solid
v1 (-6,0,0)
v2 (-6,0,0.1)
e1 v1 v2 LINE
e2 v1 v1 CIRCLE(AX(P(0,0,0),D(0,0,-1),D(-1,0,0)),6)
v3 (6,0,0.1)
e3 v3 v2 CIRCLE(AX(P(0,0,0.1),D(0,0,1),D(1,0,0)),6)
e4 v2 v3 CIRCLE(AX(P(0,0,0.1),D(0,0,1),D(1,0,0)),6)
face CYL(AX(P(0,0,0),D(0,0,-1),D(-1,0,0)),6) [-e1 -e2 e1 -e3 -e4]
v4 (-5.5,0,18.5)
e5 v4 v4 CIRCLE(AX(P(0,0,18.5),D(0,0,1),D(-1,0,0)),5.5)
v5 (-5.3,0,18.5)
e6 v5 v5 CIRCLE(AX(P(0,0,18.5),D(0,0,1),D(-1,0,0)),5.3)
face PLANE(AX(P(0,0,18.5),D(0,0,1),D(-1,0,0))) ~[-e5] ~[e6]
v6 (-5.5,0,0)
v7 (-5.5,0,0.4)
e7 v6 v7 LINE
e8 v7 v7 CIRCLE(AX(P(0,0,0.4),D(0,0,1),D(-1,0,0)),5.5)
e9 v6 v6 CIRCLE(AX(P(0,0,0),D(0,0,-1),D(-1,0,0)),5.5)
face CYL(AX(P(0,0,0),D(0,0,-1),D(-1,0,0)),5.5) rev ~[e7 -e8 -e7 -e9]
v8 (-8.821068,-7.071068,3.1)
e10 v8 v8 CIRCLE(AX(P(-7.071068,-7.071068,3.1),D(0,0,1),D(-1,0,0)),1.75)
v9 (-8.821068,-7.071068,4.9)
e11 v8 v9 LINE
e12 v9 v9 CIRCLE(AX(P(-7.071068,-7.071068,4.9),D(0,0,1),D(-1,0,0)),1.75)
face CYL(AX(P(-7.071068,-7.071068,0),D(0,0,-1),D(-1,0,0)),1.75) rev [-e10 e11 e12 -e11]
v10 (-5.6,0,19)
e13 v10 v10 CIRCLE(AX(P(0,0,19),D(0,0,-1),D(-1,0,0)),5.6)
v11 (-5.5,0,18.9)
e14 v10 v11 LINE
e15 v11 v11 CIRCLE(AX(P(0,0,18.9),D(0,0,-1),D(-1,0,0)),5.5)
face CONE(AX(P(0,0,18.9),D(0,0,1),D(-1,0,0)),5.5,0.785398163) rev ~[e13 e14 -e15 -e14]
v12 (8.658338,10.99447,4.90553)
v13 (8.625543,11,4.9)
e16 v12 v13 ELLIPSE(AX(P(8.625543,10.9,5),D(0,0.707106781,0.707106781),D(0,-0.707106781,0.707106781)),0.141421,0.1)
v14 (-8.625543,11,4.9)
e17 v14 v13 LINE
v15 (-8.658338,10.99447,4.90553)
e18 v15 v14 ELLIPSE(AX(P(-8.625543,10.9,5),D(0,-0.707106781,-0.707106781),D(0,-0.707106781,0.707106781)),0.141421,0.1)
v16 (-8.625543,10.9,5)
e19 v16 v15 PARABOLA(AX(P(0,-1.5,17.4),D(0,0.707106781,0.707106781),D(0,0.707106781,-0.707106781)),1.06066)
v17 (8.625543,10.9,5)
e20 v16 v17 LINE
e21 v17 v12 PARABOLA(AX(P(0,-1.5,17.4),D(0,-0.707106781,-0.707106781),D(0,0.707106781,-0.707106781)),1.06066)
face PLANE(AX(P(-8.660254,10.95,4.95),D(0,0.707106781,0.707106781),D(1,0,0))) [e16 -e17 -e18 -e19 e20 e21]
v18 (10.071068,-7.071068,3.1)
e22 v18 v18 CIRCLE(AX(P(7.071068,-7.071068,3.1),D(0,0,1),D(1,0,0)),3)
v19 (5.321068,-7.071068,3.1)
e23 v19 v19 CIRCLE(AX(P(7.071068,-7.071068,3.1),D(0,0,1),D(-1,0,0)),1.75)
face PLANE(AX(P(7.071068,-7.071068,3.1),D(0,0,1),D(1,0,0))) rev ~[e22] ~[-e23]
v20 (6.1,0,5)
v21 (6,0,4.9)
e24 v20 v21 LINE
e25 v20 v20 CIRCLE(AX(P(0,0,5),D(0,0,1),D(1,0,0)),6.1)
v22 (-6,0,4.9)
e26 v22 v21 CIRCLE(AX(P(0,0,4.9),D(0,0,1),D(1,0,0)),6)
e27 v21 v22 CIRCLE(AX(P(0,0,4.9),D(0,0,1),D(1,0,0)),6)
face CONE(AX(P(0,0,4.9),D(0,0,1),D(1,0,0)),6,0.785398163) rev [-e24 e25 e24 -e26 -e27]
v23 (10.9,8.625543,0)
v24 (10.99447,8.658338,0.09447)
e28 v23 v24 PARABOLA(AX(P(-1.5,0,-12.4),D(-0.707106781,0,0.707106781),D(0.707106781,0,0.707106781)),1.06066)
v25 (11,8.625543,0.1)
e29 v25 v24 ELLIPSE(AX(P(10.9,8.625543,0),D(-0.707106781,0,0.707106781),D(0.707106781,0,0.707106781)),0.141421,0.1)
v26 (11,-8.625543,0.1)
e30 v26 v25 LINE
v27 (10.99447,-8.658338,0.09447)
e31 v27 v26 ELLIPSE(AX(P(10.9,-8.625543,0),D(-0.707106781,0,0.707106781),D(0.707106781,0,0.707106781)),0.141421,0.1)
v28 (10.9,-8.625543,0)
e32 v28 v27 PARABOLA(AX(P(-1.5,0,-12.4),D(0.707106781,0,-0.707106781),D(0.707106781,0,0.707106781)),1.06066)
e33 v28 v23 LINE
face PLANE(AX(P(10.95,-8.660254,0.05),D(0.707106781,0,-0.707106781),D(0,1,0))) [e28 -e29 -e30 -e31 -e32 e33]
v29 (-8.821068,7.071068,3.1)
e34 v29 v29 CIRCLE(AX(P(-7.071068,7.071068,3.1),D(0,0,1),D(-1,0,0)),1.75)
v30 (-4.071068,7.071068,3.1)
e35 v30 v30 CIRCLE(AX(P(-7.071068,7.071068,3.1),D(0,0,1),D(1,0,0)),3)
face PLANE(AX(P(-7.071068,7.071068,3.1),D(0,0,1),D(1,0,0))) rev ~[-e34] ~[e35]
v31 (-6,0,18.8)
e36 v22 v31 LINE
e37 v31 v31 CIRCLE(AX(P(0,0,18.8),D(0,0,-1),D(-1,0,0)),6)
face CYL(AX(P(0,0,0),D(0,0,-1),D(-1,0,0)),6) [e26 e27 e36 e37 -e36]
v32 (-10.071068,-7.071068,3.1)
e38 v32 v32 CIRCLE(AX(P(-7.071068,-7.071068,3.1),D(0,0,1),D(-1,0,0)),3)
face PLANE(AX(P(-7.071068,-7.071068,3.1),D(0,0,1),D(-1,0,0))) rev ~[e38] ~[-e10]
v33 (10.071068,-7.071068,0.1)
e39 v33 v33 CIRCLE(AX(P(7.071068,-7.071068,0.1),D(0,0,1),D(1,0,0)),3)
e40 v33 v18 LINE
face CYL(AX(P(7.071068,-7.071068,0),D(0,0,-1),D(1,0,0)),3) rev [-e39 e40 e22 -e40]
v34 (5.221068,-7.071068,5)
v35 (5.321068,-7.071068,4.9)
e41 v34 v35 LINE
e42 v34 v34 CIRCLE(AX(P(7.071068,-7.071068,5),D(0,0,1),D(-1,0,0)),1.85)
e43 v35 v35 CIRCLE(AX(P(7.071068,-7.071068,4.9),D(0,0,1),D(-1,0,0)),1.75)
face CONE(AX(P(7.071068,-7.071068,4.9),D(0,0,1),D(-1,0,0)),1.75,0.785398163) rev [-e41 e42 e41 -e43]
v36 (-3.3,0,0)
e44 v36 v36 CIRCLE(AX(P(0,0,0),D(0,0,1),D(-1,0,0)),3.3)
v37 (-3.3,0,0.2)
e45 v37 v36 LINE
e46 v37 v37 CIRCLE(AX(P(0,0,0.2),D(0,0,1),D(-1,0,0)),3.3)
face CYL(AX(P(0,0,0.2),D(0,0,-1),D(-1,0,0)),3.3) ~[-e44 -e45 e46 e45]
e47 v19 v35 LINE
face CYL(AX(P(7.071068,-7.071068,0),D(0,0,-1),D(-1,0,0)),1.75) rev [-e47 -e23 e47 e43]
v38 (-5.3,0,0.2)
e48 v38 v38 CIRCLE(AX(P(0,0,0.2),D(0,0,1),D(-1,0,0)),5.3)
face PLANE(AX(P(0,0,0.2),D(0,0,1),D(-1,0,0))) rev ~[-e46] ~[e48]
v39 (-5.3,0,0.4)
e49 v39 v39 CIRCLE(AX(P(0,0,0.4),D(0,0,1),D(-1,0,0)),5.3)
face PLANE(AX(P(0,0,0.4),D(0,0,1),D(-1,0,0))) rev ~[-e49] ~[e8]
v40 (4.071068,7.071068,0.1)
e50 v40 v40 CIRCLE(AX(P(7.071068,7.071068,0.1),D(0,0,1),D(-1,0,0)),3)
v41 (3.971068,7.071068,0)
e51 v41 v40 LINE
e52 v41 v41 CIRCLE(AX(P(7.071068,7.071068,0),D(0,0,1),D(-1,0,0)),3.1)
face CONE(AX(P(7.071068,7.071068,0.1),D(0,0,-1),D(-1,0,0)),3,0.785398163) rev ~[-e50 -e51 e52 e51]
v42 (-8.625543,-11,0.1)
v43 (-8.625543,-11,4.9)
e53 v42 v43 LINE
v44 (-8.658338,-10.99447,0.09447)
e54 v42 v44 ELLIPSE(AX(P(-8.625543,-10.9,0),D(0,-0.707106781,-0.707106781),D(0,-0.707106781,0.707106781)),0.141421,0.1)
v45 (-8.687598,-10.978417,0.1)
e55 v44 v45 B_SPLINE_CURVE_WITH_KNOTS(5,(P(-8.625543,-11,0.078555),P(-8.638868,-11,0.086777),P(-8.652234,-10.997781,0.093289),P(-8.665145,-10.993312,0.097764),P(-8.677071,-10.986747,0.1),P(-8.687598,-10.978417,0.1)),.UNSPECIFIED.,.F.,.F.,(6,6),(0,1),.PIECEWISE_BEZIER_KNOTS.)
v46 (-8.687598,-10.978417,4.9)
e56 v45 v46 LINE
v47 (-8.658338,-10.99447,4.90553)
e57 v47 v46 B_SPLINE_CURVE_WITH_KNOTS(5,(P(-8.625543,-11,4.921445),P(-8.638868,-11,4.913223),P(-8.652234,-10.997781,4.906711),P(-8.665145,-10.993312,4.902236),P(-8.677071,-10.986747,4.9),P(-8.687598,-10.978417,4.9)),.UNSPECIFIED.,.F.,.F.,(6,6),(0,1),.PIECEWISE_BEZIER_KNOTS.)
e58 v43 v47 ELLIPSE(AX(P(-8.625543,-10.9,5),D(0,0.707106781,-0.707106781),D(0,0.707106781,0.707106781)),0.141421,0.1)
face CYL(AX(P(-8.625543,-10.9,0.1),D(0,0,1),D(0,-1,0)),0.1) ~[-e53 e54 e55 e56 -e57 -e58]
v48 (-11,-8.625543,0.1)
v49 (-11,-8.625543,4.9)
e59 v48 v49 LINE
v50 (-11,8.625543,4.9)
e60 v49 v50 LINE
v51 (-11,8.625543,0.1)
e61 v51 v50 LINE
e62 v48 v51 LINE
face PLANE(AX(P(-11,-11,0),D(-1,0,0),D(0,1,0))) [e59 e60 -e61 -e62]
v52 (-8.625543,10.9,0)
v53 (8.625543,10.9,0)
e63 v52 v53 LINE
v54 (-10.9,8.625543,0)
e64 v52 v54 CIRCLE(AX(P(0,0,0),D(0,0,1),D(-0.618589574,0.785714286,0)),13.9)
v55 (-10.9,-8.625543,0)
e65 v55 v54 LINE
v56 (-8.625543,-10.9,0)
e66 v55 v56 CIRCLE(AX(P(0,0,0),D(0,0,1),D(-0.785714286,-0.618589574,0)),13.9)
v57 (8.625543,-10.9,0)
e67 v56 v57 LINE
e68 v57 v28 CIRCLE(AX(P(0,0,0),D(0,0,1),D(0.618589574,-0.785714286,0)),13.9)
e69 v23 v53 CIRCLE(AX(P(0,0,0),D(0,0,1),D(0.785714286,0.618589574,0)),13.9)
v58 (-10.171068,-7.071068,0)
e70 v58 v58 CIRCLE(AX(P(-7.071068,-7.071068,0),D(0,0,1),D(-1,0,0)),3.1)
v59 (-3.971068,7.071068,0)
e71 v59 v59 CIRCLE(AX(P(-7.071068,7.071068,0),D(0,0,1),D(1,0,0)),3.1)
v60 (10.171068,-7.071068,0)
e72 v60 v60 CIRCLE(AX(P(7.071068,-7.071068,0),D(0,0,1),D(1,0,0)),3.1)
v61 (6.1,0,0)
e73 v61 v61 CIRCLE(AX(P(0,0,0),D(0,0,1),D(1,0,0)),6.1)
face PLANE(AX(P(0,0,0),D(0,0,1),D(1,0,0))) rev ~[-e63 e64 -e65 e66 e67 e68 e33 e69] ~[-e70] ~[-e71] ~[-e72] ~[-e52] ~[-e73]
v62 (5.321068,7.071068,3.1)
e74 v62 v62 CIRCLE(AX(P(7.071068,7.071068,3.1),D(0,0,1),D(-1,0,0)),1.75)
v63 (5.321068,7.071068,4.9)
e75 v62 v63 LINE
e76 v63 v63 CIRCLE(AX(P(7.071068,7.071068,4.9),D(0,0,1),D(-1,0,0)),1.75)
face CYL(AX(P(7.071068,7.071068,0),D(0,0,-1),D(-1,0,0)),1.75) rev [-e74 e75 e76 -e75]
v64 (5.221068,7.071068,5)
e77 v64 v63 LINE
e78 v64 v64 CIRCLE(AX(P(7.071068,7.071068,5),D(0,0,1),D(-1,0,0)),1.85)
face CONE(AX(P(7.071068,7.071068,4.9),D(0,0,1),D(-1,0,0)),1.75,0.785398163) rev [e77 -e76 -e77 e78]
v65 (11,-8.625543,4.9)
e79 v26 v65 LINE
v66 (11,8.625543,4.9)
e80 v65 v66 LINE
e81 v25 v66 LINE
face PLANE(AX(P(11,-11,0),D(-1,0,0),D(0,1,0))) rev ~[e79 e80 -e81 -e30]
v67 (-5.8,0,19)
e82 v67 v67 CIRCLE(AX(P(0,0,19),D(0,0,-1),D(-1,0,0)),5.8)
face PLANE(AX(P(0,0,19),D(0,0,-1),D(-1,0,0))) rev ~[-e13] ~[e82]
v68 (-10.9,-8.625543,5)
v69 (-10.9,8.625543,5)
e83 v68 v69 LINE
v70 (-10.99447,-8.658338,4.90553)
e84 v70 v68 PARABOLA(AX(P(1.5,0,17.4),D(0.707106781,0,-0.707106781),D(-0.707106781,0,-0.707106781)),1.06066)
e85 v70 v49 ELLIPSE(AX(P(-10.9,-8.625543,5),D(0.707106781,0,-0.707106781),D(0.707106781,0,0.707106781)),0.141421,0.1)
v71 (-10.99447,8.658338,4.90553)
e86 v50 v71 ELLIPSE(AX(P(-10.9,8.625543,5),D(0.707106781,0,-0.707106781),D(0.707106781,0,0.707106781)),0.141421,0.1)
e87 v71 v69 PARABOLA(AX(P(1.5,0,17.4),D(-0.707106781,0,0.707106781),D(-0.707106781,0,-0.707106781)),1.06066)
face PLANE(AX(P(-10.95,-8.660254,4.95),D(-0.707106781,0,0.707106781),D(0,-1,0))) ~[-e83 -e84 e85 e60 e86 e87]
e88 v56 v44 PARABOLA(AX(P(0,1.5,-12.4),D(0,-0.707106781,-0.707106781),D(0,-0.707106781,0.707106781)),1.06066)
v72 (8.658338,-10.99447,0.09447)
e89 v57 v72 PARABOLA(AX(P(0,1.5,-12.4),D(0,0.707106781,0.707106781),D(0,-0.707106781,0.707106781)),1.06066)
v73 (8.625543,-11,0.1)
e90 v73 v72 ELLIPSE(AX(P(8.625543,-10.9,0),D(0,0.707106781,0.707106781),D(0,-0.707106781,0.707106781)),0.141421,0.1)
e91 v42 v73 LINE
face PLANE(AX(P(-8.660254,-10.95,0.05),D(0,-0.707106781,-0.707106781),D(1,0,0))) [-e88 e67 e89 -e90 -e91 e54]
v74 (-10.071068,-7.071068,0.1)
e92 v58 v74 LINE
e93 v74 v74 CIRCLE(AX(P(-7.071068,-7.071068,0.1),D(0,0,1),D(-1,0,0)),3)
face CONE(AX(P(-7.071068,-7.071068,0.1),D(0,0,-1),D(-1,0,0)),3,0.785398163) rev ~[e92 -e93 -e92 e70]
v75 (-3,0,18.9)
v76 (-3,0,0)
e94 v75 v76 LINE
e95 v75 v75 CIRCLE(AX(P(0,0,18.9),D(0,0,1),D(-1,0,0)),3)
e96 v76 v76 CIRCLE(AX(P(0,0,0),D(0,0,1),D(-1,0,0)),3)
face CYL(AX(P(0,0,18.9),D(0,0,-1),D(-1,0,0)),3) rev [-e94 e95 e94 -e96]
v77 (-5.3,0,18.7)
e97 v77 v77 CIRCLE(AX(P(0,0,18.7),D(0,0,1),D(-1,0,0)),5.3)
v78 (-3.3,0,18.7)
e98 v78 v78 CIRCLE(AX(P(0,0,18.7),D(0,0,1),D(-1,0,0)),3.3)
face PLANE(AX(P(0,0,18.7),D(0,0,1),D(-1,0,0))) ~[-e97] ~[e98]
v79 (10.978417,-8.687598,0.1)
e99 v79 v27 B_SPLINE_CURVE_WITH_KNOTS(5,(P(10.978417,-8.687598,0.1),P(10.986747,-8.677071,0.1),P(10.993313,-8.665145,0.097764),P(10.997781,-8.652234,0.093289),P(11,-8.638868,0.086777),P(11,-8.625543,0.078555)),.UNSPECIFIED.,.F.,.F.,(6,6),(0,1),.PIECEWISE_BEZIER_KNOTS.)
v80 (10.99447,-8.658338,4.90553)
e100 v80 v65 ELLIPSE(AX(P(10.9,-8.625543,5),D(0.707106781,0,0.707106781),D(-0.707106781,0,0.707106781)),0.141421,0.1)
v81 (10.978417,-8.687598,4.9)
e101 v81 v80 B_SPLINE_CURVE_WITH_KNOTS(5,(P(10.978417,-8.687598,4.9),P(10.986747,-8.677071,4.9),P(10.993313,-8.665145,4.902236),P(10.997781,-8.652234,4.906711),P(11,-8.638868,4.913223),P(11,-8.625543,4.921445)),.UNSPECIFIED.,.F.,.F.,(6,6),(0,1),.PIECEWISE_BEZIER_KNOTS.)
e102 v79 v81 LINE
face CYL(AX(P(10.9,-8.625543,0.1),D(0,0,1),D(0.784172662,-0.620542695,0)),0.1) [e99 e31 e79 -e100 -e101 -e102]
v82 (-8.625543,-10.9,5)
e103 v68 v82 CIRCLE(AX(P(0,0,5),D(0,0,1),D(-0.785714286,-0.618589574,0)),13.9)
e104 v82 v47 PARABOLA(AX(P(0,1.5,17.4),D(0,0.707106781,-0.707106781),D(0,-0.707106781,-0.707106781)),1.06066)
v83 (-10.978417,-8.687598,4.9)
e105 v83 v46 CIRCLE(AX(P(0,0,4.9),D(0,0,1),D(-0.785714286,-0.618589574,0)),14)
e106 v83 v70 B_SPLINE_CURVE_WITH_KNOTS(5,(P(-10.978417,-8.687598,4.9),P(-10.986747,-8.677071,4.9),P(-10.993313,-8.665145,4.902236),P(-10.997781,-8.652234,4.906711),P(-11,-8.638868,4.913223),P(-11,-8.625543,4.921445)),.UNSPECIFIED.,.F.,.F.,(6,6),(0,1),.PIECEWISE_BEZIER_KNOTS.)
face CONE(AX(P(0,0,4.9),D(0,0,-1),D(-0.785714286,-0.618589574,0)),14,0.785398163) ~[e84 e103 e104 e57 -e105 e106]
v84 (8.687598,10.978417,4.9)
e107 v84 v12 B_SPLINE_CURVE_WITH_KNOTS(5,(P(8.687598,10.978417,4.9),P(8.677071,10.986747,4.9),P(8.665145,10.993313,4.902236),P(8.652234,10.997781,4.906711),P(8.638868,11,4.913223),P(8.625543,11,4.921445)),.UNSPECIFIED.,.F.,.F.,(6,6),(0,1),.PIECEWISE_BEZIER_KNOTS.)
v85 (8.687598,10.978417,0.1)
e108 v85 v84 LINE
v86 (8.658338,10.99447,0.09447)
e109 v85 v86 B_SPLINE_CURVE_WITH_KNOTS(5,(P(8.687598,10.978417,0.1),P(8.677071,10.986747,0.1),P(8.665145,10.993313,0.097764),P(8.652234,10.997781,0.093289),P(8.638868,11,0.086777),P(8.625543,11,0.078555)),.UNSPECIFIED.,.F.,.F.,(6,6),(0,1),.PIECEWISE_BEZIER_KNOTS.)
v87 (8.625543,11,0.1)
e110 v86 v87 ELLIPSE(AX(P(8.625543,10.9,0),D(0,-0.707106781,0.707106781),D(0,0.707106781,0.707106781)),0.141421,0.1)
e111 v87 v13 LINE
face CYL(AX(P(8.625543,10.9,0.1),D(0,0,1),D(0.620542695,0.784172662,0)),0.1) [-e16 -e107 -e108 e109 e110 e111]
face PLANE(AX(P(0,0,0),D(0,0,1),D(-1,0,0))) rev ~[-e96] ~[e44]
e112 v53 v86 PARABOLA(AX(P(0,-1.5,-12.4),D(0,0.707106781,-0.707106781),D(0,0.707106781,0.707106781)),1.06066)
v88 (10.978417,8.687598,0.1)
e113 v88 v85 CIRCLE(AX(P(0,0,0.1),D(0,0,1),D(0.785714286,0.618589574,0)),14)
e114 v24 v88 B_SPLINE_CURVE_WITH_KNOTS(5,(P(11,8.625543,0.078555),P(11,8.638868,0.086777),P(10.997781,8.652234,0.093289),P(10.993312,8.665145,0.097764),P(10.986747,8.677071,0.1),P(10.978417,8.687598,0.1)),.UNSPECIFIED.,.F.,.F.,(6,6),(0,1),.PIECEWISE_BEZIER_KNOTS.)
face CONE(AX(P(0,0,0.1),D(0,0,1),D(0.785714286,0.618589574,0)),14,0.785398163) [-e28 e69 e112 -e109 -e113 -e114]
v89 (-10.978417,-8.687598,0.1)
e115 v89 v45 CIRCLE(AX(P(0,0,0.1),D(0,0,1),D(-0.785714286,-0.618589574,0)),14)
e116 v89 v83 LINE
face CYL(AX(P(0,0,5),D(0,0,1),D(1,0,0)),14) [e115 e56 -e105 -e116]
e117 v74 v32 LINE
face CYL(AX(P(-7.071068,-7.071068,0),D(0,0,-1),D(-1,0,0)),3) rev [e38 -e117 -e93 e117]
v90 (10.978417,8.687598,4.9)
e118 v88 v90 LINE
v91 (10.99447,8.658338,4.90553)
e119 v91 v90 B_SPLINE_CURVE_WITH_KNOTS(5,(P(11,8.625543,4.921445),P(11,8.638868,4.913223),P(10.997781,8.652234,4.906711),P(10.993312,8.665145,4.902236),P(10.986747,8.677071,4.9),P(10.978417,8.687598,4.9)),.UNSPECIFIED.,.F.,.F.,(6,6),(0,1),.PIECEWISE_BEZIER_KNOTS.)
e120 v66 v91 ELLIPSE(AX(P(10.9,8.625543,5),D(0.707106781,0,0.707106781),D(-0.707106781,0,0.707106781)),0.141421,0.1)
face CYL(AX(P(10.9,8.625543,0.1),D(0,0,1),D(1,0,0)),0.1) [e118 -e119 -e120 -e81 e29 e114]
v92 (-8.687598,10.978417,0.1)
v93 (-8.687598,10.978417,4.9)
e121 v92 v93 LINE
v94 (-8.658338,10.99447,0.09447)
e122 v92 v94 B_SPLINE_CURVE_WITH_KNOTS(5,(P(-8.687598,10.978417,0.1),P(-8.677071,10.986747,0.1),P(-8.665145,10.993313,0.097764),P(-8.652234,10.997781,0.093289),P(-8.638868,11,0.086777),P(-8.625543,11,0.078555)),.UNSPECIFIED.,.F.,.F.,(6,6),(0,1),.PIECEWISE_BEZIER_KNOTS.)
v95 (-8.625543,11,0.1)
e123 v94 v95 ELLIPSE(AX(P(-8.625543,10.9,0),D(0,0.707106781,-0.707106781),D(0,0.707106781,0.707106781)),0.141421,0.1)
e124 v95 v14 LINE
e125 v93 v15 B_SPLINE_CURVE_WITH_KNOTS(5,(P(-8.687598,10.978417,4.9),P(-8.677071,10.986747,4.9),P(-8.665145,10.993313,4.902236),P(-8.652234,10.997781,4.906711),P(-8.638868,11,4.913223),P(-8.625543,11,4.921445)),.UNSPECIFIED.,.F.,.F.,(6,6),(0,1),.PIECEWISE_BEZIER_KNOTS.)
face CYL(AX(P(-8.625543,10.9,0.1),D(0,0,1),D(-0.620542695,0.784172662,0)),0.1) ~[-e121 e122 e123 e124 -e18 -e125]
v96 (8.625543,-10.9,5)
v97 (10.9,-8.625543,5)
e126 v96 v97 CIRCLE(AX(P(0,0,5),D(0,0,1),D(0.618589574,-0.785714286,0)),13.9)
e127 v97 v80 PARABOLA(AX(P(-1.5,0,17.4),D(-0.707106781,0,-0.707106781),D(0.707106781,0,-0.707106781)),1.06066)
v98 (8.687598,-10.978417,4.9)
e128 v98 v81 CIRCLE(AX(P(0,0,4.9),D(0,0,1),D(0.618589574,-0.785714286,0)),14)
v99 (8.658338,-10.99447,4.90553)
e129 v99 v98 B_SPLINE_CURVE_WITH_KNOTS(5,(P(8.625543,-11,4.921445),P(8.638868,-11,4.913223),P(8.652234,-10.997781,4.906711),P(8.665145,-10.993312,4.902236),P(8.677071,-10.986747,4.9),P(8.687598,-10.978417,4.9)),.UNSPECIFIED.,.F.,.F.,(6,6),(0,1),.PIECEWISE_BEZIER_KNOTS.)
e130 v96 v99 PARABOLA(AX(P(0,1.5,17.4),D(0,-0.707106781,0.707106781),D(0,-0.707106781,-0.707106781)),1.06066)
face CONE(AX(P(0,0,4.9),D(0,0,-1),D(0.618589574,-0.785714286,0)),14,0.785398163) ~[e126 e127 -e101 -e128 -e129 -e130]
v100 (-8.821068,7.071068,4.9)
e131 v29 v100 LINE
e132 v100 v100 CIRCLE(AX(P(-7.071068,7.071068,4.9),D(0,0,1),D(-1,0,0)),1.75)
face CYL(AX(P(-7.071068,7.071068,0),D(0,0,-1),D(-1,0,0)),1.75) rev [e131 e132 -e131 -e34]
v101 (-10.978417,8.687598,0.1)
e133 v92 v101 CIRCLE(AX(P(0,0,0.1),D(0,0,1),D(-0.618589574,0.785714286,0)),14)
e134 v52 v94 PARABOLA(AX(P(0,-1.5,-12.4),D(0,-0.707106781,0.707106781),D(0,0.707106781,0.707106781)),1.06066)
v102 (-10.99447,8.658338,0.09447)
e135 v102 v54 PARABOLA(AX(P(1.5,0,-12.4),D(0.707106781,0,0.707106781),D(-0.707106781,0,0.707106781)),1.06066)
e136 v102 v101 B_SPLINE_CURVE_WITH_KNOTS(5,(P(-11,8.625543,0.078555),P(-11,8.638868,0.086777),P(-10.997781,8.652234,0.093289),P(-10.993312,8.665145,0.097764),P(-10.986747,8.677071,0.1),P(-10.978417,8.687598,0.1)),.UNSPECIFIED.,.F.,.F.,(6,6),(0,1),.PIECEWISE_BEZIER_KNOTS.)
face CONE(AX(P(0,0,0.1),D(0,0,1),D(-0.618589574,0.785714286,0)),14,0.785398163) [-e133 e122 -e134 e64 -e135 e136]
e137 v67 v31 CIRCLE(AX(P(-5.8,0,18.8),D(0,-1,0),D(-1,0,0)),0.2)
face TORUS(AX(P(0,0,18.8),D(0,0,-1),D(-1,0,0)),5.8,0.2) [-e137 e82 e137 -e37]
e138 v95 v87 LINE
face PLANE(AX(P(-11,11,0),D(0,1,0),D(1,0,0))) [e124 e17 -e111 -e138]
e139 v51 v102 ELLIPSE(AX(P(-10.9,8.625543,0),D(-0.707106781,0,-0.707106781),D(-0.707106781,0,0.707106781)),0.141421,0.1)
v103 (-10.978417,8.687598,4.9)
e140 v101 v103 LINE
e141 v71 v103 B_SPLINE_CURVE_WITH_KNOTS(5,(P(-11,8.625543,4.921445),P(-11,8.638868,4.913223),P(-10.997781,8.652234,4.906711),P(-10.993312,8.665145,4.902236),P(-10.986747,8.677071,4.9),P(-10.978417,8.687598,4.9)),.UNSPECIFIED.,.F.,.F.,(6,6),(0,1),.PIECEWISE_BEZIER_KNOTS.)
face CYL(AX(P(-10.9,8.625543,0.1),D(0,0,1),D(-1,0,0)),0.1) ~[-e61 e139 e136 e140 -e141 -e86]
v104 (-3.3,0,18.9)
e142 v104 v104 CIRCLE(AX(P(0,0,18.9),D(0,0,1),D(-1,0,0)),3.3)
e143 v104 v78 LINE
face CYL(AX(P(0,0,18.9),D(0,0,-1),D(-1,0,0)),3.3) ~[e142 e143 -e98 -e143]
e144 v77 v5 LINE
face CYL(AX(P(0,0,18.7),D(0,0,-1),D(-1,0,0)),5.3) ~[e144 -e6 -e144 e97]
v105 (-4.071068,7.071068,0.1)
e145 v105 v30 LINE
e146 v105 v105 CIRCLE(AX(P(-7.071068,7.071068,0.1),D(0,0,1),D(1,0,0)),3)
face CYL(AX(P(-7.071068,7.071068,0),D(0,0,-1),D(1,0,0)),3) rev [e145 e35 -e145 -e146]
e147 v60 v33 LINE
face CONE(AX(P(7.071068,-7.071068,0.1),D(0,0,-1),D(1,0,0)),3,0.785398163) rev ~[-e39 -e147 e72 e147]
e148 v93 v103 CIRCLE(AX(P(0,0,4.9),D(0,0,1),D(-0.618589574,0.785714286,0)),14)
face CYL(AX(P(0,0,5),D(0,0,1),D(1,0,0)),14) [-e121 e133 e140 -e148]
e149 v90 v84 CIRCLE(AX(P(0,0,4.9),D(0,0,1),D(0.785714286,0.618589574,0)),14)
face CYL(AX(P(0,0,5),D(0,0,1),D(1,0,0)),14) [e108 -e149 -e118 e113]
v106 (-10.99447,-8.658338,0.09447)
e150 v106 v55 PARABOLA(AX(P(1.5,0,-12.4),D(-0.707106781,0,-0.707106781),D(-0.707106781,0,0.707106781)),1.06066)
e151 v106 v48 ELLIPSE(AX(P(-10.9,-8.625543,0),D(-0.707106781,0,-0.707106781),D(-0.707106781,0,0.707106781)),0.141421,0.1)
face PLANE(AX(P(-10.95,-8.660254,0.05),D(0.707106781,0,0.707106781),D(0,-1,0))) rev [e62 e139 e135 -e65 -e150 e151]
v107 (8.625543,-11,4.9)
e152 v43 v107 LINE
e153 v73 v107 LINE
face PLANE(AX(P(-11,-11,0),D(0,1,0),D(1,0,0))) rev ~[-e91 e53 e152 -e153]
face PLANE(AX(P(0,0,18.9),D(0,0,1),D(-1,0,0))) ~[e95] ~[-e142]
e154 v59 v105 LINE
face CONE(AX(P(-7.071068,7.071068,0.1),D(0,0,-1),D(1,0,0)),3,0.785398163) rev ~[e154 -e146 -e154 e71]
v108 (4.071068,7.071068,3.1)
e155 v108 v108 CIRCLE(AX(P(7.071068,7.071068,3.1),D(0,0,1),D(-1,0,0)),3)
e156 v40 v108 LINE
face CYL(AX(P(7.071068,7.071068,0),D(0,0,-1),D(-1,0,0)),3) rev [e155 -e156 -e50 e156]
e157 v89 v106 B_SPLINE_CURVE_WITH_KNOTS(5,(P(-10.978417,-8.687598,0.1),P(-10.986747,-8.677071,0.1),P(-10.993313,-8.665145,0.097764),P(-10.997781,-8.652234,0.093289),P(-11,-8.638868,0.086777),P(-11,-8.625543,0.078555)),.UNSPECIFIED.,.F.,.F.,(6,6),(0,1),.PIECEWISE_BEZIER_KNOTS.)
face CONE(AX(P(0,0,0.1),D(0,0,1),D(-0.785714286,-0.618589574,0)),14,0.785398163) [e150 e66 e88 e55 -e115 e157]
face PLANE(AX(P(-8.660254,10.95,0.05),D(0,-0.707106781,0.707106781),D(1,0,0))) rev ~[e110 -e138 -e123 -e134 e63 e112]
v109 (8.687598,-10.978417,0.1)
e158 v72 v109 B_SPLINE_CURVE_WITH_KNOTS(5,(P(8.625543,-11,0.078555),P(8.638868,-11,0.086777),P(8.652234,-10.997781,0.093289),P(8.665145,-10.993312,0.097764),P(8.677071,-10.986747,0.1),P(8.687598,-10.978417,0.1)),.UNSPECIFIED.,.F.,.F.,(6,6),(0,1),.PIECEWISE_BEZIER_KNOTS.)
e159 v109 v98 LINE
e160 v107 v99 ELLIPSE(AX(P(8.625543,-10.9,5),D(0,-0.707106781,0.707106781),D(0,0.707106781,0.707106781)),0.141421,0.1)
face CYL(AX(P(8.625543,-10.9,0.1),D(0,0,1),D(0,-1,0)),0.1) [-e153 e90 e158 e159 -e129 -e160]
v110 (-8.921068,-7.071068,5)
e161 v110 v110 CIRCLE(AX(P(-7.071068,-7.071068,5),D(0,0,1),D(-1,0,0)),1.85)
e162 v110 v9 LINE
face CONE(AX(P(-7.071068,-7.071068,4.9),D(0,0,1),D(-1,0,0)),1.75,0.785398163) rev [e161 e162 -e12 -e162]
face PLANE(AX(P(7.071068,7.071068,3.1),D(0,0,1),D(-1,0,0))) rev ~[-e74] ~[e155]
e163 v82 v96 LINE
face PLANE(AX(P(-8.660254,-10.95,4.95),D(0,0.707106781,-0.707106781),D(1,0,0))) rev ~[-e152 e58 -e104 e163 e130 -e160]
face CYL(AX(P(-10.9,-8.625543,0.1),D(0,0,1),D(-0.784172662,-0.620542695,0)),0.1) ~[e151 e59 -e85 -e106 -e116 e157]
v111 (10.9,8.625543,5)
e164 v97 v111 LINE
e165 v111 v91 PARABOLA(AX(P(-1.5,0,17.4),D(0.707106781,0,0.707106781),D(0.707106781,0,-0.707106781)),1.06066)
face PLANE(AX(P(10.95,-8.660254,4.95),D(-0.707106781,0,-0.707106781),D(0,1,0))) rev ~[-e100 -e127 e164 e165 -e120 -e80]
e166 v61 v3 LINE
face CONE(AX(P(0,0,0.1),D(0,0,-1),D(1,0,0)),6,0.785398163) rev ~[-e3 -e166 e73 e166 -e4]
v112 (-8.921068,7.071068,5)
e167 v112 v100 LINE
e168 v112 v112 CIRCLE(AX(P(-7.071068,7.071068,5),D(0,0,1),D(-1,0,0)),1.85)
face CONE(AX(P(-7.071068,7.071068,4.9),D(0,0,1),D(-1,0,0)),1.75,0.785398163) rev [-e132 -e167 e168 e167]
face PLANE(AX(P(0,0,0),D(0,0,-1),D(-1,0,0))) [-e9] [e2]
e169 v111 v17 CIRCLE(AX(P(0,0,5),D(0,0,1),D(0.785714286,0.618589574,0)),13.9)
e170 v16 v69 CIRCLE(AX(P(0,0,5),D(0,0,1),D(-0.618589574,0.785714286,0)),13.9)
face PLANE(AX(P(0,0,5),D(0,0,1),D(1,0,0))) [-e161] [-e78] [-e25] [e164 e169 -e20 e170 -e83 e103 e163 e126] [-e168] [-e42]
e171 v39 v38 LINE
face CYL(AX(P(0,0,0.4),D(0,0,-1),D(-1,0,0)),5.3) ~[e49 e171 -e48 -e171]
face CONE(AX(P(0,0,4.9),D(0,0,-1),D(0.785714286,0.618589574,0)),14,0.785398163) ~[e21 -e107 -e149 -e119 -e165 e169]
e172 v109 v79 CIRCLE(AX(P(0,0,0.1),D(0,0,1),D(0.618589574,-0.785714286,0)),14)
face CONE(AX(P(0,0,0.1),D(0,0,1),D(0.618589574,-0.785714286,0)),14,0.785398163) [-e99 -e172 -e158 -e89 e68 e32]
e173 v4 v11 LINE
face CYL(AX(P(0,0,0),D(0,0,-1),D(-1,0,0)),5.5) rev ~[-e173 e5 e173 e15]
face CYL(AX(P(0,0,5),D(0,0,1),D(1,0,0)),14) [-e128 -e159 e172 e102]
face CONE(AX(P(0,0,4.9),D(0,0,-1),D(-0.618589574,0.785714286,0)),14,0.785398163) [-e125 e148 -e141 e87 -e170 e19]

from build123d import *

# Parameters (mm, degrees)
SKETCH_1_W          = 22
SKETCH_1_H          = 22
SKETCH_1_R          = 6
EXTRUDE_1_DEPTH     = 5
SKETCH_3_OUTSIDE_W  = 30.302
SKETCH_3_OUTSIDE_H  = 30.302
SKETCH_3_OUTSIDE_R  = 14
CUT_EXTRUDE_2_DEPTH = 5
SKETCH_5_R          = 1.75
CUT_EXTRUDE_3_DEPTH = 5
SKETCH_5_3_R        = 3
SKETCH_5_3_R_2      = 1.75
CUT_EXTRUDE_4_DEPTH = 3.1
CHAMFER_1_SIZE      = 0.1
SKETCH_7_R          = 6
SKETCH_7_R_2        = 5.5
EXTRUDE_2_DEPTH     = 19
FILLET_1_R          = 0.2
CHAMFER_2_SIZE      = 0.1
FILLET_2_R          = 0.1


with BuildPart() as part:
    # Sketch 1 → Extrude 1 (new body)
    with BuildSketch(Plane.XY):
        Rectangle(SKETCH_1_W, SKETCH_1_H)
        Circle(SKETCH_1_R, mode=Mode.SUBTRACT)
    extrude(amount=EXTRUDE_1_DEPTH)

    # Sketch 3 outside → Cut-Extrude 2 (cut)
    with BuildSketch(Plane.XY.offset(5)):
        Rectangle(SKETCH_3_OUTSIDE_W, SKETCH_3_OUTSIDE_H)
        Circle(SKETCH_3_OUTSIDE_R, mode=Mode.SUBTRACT)
    extrude(amount=-CUT_EXTRUDE_2_DEPTH, mode=Mode.SUBTRACT)

    # Sketch 5 → Cut-Extrude 3 (cut)
    with BuildSketch(Plane.XY):
        with Locations(Location((-7.071067812, 7.071067812, 0), (0, 0, 180))):  # turned: the seam where the file's is
            Circle(SKETCH_5_R)
        with Locations(Location((-7.071067812, -7.071067812, 0), (0, 0, 180))):  # turned: the seam where the file's is
            Circle(SKETCH_5_R)
        with Locations(Location((7.071067812, -7.071067812, 0), (0, 0, 180))):  # turned: the seam where the file's is
            Circle(SKETCH_5_R)
        with Locations(Location((7.071067812, 7.071067812, 0), (0, 0, 180))):  # turned: the seam where the file's is
            Circle(SKETCH_5_R)
    extrude(amount=CUT_EXTRUDE_3_DEPTH, mode=Mode.SUBTRACT)

    # Sketch 5_3 → Cut-Extrude 4 (cut)
    with BuildSketch(Plane.XY):
        with Locations((-7.071067812, 7.071067812)):
            Circle(SKETCH_5_3_R)
        with Locations(Location((-7.071067812, 7.071067812, 0), (0, 0, 180))):  # turned: the seam where the file's is
            Circle(SKETCH_5_3_R_2, mode=Mode.SUBTRACT)
        with Locations(Location((7.071067812, 7.071067812, 0), (0, 0, 180))):  # turned: the seam where the file's is
            Circle(SKETCH_5_3_R)
        with Locations(Location((7.071067812, 7.071067812, 0), (0, 0, 180))):  # turned: the seam where the file's is
            Circle(SKETCH_5_3_R_2, mode=Mode.SUBTRACT)
        with Locations((7.071067812, -7.071067812)):
            Circle(SKETCH_5_3_R)
        with Locations(Location((7.071067812, -7.071067812, 0), (0, 0, 180))):  # turned: the seam where the file's is
            Circle(SKETCH_5_3_R_2, mode=Mode.SUBTRACT)
        with Locations(Location((-7.071067812, -7.071067812, 0), (0, 0, 180))):  # turned: the seam where the file's is
            Circle(SKETCH_5_3_R)
        with Locations(Location((-7.071067812, -7.071067812, 0), (0, 0, 180))):  # turned: the seam where the file's is
            Circle(SKETCH_5_3_R_2, mode=Mode.SUBTRACT)
    extrude(amount=CUT_EXTRUDE_4_DEPTH, mode=Mode.SUBTRACT)

    # Chamfer 1
    chamfer_1_edges = [part.edges().sort_by_distance(p)[0] for p in [
        (10.071067812, 7.071067812, 0),
        (-10.071067812, 7.071067812, 0),
        (-6, 0, 0),
        (-6, 0, 5),
        (0, -11, 0),
        (0, -11, 5),
        (-11, 0, 0),
        (-11, 0, 5),
        (0, 11, 0),
        (0, 11, 5),
        (11, 0, 0),
        (11, 0, 5),
        (9.899494937, -9.899494937, 5),
        (9.899494937, 9.899494937, 5),
        (-9.899494937, 9.899494937, 5),
        (-9.899494937, -9.899494937, 5),
        (9.899494937, 9.899494937, 0),
        (-9.899494937, 9.899494937, 0),
        (9.899494937, -9.899494937, 0),
        (-9.899494937, -9.899494937, 0),
        (8.821067812, 7.071067812, 5),
        (8.821067812, -7.071067812, 5),
        (-5.321067812, -7.071067812, 5),
        (-5.321067812, 7.071067812, 5),
        (-4.071067812, -7.071067812, 0),
        (4.071067812, -7.071067812, 0),
    ]]
    chamfer(chamfer_1_edges, length=CHAMFER_1_SIZE)

    # Sketch 7 → Extrude 2 (add)
    with BuildSketch(Plane(origin=(0, 0, 0), x_dir=(-1, 0, 0), z_dir=(0, 0, -1))):
        Circle(SKETCH_7_R)
        Circle(SKETCH_7_R_2, mode=Mode.SUBTRACT)
    extrude(amount=-EXTRUDE_2_DEPTH)

    # Fillet 1
    fillet_1_edges = [part.edges().sort_by_distance(p)[0] for p in [
        (6, 0, 19),
    ]]
    fillet(fillet_1_edges, radius=FILLET_1_R)

    # Chamfer 2
    chamfer_2_edges = [part.edges().sort_by_distance(p)[0] for p in [
        (5.5, 0, 19),
    ]]
    chamfer(chamfer_2_edges, length=CHAMFER_2_SIZE)

    # Sketch 8 → Revolve 1 (revolve)
    with BuildSketch(Plane(origin=(0, 0, 0), x_dir=(0, 0, -1), z_dir=(1, 0, 0)), mode=Mode.PRIVATE) as revolve_1_sk:
        Polygon((-18.5, 5.5), (-0.4, 5.5), (-0.4, 5.3), (-0.2, 5.3), (-0.2, 3.3), (0, 3.3), (0, 3), (-0.693888948, 3), (-18.206111052, 3), (-18.9, 3), (-18.9, 3.3), (-18.7, 3.3), (-18.7, 5.3), (-18.5, 5.3), align=None)
    revolve(revolve_1_sk.sketch.rotate(Axis((0, 0, 0), (0, 0, 1)), 90), axis=Axis((0, 0, 0), (0, 0, 1)))  # turned: the seam where the file's is

    # Fillet 2
    fillet_2_edges = [part.edges().sort_by_distance(p)[0] for p in [
        (-8.660254038, 11, 2.5),
        (-11, 8.660254038, 2.5),
        (-11, -8.660254038, 2.5),
        (-8.660254038, -11, 2.5),
        (8.660254038, -11, 2.5),
        (11, -8.660254038, 2.5),
        (11, 8.660254038, 2.5),
        (8.660254038, 11, 2.5),
    ]]
    fillet(fillet_2_edges, radius=FILLET_2_R)


solid = part.part
